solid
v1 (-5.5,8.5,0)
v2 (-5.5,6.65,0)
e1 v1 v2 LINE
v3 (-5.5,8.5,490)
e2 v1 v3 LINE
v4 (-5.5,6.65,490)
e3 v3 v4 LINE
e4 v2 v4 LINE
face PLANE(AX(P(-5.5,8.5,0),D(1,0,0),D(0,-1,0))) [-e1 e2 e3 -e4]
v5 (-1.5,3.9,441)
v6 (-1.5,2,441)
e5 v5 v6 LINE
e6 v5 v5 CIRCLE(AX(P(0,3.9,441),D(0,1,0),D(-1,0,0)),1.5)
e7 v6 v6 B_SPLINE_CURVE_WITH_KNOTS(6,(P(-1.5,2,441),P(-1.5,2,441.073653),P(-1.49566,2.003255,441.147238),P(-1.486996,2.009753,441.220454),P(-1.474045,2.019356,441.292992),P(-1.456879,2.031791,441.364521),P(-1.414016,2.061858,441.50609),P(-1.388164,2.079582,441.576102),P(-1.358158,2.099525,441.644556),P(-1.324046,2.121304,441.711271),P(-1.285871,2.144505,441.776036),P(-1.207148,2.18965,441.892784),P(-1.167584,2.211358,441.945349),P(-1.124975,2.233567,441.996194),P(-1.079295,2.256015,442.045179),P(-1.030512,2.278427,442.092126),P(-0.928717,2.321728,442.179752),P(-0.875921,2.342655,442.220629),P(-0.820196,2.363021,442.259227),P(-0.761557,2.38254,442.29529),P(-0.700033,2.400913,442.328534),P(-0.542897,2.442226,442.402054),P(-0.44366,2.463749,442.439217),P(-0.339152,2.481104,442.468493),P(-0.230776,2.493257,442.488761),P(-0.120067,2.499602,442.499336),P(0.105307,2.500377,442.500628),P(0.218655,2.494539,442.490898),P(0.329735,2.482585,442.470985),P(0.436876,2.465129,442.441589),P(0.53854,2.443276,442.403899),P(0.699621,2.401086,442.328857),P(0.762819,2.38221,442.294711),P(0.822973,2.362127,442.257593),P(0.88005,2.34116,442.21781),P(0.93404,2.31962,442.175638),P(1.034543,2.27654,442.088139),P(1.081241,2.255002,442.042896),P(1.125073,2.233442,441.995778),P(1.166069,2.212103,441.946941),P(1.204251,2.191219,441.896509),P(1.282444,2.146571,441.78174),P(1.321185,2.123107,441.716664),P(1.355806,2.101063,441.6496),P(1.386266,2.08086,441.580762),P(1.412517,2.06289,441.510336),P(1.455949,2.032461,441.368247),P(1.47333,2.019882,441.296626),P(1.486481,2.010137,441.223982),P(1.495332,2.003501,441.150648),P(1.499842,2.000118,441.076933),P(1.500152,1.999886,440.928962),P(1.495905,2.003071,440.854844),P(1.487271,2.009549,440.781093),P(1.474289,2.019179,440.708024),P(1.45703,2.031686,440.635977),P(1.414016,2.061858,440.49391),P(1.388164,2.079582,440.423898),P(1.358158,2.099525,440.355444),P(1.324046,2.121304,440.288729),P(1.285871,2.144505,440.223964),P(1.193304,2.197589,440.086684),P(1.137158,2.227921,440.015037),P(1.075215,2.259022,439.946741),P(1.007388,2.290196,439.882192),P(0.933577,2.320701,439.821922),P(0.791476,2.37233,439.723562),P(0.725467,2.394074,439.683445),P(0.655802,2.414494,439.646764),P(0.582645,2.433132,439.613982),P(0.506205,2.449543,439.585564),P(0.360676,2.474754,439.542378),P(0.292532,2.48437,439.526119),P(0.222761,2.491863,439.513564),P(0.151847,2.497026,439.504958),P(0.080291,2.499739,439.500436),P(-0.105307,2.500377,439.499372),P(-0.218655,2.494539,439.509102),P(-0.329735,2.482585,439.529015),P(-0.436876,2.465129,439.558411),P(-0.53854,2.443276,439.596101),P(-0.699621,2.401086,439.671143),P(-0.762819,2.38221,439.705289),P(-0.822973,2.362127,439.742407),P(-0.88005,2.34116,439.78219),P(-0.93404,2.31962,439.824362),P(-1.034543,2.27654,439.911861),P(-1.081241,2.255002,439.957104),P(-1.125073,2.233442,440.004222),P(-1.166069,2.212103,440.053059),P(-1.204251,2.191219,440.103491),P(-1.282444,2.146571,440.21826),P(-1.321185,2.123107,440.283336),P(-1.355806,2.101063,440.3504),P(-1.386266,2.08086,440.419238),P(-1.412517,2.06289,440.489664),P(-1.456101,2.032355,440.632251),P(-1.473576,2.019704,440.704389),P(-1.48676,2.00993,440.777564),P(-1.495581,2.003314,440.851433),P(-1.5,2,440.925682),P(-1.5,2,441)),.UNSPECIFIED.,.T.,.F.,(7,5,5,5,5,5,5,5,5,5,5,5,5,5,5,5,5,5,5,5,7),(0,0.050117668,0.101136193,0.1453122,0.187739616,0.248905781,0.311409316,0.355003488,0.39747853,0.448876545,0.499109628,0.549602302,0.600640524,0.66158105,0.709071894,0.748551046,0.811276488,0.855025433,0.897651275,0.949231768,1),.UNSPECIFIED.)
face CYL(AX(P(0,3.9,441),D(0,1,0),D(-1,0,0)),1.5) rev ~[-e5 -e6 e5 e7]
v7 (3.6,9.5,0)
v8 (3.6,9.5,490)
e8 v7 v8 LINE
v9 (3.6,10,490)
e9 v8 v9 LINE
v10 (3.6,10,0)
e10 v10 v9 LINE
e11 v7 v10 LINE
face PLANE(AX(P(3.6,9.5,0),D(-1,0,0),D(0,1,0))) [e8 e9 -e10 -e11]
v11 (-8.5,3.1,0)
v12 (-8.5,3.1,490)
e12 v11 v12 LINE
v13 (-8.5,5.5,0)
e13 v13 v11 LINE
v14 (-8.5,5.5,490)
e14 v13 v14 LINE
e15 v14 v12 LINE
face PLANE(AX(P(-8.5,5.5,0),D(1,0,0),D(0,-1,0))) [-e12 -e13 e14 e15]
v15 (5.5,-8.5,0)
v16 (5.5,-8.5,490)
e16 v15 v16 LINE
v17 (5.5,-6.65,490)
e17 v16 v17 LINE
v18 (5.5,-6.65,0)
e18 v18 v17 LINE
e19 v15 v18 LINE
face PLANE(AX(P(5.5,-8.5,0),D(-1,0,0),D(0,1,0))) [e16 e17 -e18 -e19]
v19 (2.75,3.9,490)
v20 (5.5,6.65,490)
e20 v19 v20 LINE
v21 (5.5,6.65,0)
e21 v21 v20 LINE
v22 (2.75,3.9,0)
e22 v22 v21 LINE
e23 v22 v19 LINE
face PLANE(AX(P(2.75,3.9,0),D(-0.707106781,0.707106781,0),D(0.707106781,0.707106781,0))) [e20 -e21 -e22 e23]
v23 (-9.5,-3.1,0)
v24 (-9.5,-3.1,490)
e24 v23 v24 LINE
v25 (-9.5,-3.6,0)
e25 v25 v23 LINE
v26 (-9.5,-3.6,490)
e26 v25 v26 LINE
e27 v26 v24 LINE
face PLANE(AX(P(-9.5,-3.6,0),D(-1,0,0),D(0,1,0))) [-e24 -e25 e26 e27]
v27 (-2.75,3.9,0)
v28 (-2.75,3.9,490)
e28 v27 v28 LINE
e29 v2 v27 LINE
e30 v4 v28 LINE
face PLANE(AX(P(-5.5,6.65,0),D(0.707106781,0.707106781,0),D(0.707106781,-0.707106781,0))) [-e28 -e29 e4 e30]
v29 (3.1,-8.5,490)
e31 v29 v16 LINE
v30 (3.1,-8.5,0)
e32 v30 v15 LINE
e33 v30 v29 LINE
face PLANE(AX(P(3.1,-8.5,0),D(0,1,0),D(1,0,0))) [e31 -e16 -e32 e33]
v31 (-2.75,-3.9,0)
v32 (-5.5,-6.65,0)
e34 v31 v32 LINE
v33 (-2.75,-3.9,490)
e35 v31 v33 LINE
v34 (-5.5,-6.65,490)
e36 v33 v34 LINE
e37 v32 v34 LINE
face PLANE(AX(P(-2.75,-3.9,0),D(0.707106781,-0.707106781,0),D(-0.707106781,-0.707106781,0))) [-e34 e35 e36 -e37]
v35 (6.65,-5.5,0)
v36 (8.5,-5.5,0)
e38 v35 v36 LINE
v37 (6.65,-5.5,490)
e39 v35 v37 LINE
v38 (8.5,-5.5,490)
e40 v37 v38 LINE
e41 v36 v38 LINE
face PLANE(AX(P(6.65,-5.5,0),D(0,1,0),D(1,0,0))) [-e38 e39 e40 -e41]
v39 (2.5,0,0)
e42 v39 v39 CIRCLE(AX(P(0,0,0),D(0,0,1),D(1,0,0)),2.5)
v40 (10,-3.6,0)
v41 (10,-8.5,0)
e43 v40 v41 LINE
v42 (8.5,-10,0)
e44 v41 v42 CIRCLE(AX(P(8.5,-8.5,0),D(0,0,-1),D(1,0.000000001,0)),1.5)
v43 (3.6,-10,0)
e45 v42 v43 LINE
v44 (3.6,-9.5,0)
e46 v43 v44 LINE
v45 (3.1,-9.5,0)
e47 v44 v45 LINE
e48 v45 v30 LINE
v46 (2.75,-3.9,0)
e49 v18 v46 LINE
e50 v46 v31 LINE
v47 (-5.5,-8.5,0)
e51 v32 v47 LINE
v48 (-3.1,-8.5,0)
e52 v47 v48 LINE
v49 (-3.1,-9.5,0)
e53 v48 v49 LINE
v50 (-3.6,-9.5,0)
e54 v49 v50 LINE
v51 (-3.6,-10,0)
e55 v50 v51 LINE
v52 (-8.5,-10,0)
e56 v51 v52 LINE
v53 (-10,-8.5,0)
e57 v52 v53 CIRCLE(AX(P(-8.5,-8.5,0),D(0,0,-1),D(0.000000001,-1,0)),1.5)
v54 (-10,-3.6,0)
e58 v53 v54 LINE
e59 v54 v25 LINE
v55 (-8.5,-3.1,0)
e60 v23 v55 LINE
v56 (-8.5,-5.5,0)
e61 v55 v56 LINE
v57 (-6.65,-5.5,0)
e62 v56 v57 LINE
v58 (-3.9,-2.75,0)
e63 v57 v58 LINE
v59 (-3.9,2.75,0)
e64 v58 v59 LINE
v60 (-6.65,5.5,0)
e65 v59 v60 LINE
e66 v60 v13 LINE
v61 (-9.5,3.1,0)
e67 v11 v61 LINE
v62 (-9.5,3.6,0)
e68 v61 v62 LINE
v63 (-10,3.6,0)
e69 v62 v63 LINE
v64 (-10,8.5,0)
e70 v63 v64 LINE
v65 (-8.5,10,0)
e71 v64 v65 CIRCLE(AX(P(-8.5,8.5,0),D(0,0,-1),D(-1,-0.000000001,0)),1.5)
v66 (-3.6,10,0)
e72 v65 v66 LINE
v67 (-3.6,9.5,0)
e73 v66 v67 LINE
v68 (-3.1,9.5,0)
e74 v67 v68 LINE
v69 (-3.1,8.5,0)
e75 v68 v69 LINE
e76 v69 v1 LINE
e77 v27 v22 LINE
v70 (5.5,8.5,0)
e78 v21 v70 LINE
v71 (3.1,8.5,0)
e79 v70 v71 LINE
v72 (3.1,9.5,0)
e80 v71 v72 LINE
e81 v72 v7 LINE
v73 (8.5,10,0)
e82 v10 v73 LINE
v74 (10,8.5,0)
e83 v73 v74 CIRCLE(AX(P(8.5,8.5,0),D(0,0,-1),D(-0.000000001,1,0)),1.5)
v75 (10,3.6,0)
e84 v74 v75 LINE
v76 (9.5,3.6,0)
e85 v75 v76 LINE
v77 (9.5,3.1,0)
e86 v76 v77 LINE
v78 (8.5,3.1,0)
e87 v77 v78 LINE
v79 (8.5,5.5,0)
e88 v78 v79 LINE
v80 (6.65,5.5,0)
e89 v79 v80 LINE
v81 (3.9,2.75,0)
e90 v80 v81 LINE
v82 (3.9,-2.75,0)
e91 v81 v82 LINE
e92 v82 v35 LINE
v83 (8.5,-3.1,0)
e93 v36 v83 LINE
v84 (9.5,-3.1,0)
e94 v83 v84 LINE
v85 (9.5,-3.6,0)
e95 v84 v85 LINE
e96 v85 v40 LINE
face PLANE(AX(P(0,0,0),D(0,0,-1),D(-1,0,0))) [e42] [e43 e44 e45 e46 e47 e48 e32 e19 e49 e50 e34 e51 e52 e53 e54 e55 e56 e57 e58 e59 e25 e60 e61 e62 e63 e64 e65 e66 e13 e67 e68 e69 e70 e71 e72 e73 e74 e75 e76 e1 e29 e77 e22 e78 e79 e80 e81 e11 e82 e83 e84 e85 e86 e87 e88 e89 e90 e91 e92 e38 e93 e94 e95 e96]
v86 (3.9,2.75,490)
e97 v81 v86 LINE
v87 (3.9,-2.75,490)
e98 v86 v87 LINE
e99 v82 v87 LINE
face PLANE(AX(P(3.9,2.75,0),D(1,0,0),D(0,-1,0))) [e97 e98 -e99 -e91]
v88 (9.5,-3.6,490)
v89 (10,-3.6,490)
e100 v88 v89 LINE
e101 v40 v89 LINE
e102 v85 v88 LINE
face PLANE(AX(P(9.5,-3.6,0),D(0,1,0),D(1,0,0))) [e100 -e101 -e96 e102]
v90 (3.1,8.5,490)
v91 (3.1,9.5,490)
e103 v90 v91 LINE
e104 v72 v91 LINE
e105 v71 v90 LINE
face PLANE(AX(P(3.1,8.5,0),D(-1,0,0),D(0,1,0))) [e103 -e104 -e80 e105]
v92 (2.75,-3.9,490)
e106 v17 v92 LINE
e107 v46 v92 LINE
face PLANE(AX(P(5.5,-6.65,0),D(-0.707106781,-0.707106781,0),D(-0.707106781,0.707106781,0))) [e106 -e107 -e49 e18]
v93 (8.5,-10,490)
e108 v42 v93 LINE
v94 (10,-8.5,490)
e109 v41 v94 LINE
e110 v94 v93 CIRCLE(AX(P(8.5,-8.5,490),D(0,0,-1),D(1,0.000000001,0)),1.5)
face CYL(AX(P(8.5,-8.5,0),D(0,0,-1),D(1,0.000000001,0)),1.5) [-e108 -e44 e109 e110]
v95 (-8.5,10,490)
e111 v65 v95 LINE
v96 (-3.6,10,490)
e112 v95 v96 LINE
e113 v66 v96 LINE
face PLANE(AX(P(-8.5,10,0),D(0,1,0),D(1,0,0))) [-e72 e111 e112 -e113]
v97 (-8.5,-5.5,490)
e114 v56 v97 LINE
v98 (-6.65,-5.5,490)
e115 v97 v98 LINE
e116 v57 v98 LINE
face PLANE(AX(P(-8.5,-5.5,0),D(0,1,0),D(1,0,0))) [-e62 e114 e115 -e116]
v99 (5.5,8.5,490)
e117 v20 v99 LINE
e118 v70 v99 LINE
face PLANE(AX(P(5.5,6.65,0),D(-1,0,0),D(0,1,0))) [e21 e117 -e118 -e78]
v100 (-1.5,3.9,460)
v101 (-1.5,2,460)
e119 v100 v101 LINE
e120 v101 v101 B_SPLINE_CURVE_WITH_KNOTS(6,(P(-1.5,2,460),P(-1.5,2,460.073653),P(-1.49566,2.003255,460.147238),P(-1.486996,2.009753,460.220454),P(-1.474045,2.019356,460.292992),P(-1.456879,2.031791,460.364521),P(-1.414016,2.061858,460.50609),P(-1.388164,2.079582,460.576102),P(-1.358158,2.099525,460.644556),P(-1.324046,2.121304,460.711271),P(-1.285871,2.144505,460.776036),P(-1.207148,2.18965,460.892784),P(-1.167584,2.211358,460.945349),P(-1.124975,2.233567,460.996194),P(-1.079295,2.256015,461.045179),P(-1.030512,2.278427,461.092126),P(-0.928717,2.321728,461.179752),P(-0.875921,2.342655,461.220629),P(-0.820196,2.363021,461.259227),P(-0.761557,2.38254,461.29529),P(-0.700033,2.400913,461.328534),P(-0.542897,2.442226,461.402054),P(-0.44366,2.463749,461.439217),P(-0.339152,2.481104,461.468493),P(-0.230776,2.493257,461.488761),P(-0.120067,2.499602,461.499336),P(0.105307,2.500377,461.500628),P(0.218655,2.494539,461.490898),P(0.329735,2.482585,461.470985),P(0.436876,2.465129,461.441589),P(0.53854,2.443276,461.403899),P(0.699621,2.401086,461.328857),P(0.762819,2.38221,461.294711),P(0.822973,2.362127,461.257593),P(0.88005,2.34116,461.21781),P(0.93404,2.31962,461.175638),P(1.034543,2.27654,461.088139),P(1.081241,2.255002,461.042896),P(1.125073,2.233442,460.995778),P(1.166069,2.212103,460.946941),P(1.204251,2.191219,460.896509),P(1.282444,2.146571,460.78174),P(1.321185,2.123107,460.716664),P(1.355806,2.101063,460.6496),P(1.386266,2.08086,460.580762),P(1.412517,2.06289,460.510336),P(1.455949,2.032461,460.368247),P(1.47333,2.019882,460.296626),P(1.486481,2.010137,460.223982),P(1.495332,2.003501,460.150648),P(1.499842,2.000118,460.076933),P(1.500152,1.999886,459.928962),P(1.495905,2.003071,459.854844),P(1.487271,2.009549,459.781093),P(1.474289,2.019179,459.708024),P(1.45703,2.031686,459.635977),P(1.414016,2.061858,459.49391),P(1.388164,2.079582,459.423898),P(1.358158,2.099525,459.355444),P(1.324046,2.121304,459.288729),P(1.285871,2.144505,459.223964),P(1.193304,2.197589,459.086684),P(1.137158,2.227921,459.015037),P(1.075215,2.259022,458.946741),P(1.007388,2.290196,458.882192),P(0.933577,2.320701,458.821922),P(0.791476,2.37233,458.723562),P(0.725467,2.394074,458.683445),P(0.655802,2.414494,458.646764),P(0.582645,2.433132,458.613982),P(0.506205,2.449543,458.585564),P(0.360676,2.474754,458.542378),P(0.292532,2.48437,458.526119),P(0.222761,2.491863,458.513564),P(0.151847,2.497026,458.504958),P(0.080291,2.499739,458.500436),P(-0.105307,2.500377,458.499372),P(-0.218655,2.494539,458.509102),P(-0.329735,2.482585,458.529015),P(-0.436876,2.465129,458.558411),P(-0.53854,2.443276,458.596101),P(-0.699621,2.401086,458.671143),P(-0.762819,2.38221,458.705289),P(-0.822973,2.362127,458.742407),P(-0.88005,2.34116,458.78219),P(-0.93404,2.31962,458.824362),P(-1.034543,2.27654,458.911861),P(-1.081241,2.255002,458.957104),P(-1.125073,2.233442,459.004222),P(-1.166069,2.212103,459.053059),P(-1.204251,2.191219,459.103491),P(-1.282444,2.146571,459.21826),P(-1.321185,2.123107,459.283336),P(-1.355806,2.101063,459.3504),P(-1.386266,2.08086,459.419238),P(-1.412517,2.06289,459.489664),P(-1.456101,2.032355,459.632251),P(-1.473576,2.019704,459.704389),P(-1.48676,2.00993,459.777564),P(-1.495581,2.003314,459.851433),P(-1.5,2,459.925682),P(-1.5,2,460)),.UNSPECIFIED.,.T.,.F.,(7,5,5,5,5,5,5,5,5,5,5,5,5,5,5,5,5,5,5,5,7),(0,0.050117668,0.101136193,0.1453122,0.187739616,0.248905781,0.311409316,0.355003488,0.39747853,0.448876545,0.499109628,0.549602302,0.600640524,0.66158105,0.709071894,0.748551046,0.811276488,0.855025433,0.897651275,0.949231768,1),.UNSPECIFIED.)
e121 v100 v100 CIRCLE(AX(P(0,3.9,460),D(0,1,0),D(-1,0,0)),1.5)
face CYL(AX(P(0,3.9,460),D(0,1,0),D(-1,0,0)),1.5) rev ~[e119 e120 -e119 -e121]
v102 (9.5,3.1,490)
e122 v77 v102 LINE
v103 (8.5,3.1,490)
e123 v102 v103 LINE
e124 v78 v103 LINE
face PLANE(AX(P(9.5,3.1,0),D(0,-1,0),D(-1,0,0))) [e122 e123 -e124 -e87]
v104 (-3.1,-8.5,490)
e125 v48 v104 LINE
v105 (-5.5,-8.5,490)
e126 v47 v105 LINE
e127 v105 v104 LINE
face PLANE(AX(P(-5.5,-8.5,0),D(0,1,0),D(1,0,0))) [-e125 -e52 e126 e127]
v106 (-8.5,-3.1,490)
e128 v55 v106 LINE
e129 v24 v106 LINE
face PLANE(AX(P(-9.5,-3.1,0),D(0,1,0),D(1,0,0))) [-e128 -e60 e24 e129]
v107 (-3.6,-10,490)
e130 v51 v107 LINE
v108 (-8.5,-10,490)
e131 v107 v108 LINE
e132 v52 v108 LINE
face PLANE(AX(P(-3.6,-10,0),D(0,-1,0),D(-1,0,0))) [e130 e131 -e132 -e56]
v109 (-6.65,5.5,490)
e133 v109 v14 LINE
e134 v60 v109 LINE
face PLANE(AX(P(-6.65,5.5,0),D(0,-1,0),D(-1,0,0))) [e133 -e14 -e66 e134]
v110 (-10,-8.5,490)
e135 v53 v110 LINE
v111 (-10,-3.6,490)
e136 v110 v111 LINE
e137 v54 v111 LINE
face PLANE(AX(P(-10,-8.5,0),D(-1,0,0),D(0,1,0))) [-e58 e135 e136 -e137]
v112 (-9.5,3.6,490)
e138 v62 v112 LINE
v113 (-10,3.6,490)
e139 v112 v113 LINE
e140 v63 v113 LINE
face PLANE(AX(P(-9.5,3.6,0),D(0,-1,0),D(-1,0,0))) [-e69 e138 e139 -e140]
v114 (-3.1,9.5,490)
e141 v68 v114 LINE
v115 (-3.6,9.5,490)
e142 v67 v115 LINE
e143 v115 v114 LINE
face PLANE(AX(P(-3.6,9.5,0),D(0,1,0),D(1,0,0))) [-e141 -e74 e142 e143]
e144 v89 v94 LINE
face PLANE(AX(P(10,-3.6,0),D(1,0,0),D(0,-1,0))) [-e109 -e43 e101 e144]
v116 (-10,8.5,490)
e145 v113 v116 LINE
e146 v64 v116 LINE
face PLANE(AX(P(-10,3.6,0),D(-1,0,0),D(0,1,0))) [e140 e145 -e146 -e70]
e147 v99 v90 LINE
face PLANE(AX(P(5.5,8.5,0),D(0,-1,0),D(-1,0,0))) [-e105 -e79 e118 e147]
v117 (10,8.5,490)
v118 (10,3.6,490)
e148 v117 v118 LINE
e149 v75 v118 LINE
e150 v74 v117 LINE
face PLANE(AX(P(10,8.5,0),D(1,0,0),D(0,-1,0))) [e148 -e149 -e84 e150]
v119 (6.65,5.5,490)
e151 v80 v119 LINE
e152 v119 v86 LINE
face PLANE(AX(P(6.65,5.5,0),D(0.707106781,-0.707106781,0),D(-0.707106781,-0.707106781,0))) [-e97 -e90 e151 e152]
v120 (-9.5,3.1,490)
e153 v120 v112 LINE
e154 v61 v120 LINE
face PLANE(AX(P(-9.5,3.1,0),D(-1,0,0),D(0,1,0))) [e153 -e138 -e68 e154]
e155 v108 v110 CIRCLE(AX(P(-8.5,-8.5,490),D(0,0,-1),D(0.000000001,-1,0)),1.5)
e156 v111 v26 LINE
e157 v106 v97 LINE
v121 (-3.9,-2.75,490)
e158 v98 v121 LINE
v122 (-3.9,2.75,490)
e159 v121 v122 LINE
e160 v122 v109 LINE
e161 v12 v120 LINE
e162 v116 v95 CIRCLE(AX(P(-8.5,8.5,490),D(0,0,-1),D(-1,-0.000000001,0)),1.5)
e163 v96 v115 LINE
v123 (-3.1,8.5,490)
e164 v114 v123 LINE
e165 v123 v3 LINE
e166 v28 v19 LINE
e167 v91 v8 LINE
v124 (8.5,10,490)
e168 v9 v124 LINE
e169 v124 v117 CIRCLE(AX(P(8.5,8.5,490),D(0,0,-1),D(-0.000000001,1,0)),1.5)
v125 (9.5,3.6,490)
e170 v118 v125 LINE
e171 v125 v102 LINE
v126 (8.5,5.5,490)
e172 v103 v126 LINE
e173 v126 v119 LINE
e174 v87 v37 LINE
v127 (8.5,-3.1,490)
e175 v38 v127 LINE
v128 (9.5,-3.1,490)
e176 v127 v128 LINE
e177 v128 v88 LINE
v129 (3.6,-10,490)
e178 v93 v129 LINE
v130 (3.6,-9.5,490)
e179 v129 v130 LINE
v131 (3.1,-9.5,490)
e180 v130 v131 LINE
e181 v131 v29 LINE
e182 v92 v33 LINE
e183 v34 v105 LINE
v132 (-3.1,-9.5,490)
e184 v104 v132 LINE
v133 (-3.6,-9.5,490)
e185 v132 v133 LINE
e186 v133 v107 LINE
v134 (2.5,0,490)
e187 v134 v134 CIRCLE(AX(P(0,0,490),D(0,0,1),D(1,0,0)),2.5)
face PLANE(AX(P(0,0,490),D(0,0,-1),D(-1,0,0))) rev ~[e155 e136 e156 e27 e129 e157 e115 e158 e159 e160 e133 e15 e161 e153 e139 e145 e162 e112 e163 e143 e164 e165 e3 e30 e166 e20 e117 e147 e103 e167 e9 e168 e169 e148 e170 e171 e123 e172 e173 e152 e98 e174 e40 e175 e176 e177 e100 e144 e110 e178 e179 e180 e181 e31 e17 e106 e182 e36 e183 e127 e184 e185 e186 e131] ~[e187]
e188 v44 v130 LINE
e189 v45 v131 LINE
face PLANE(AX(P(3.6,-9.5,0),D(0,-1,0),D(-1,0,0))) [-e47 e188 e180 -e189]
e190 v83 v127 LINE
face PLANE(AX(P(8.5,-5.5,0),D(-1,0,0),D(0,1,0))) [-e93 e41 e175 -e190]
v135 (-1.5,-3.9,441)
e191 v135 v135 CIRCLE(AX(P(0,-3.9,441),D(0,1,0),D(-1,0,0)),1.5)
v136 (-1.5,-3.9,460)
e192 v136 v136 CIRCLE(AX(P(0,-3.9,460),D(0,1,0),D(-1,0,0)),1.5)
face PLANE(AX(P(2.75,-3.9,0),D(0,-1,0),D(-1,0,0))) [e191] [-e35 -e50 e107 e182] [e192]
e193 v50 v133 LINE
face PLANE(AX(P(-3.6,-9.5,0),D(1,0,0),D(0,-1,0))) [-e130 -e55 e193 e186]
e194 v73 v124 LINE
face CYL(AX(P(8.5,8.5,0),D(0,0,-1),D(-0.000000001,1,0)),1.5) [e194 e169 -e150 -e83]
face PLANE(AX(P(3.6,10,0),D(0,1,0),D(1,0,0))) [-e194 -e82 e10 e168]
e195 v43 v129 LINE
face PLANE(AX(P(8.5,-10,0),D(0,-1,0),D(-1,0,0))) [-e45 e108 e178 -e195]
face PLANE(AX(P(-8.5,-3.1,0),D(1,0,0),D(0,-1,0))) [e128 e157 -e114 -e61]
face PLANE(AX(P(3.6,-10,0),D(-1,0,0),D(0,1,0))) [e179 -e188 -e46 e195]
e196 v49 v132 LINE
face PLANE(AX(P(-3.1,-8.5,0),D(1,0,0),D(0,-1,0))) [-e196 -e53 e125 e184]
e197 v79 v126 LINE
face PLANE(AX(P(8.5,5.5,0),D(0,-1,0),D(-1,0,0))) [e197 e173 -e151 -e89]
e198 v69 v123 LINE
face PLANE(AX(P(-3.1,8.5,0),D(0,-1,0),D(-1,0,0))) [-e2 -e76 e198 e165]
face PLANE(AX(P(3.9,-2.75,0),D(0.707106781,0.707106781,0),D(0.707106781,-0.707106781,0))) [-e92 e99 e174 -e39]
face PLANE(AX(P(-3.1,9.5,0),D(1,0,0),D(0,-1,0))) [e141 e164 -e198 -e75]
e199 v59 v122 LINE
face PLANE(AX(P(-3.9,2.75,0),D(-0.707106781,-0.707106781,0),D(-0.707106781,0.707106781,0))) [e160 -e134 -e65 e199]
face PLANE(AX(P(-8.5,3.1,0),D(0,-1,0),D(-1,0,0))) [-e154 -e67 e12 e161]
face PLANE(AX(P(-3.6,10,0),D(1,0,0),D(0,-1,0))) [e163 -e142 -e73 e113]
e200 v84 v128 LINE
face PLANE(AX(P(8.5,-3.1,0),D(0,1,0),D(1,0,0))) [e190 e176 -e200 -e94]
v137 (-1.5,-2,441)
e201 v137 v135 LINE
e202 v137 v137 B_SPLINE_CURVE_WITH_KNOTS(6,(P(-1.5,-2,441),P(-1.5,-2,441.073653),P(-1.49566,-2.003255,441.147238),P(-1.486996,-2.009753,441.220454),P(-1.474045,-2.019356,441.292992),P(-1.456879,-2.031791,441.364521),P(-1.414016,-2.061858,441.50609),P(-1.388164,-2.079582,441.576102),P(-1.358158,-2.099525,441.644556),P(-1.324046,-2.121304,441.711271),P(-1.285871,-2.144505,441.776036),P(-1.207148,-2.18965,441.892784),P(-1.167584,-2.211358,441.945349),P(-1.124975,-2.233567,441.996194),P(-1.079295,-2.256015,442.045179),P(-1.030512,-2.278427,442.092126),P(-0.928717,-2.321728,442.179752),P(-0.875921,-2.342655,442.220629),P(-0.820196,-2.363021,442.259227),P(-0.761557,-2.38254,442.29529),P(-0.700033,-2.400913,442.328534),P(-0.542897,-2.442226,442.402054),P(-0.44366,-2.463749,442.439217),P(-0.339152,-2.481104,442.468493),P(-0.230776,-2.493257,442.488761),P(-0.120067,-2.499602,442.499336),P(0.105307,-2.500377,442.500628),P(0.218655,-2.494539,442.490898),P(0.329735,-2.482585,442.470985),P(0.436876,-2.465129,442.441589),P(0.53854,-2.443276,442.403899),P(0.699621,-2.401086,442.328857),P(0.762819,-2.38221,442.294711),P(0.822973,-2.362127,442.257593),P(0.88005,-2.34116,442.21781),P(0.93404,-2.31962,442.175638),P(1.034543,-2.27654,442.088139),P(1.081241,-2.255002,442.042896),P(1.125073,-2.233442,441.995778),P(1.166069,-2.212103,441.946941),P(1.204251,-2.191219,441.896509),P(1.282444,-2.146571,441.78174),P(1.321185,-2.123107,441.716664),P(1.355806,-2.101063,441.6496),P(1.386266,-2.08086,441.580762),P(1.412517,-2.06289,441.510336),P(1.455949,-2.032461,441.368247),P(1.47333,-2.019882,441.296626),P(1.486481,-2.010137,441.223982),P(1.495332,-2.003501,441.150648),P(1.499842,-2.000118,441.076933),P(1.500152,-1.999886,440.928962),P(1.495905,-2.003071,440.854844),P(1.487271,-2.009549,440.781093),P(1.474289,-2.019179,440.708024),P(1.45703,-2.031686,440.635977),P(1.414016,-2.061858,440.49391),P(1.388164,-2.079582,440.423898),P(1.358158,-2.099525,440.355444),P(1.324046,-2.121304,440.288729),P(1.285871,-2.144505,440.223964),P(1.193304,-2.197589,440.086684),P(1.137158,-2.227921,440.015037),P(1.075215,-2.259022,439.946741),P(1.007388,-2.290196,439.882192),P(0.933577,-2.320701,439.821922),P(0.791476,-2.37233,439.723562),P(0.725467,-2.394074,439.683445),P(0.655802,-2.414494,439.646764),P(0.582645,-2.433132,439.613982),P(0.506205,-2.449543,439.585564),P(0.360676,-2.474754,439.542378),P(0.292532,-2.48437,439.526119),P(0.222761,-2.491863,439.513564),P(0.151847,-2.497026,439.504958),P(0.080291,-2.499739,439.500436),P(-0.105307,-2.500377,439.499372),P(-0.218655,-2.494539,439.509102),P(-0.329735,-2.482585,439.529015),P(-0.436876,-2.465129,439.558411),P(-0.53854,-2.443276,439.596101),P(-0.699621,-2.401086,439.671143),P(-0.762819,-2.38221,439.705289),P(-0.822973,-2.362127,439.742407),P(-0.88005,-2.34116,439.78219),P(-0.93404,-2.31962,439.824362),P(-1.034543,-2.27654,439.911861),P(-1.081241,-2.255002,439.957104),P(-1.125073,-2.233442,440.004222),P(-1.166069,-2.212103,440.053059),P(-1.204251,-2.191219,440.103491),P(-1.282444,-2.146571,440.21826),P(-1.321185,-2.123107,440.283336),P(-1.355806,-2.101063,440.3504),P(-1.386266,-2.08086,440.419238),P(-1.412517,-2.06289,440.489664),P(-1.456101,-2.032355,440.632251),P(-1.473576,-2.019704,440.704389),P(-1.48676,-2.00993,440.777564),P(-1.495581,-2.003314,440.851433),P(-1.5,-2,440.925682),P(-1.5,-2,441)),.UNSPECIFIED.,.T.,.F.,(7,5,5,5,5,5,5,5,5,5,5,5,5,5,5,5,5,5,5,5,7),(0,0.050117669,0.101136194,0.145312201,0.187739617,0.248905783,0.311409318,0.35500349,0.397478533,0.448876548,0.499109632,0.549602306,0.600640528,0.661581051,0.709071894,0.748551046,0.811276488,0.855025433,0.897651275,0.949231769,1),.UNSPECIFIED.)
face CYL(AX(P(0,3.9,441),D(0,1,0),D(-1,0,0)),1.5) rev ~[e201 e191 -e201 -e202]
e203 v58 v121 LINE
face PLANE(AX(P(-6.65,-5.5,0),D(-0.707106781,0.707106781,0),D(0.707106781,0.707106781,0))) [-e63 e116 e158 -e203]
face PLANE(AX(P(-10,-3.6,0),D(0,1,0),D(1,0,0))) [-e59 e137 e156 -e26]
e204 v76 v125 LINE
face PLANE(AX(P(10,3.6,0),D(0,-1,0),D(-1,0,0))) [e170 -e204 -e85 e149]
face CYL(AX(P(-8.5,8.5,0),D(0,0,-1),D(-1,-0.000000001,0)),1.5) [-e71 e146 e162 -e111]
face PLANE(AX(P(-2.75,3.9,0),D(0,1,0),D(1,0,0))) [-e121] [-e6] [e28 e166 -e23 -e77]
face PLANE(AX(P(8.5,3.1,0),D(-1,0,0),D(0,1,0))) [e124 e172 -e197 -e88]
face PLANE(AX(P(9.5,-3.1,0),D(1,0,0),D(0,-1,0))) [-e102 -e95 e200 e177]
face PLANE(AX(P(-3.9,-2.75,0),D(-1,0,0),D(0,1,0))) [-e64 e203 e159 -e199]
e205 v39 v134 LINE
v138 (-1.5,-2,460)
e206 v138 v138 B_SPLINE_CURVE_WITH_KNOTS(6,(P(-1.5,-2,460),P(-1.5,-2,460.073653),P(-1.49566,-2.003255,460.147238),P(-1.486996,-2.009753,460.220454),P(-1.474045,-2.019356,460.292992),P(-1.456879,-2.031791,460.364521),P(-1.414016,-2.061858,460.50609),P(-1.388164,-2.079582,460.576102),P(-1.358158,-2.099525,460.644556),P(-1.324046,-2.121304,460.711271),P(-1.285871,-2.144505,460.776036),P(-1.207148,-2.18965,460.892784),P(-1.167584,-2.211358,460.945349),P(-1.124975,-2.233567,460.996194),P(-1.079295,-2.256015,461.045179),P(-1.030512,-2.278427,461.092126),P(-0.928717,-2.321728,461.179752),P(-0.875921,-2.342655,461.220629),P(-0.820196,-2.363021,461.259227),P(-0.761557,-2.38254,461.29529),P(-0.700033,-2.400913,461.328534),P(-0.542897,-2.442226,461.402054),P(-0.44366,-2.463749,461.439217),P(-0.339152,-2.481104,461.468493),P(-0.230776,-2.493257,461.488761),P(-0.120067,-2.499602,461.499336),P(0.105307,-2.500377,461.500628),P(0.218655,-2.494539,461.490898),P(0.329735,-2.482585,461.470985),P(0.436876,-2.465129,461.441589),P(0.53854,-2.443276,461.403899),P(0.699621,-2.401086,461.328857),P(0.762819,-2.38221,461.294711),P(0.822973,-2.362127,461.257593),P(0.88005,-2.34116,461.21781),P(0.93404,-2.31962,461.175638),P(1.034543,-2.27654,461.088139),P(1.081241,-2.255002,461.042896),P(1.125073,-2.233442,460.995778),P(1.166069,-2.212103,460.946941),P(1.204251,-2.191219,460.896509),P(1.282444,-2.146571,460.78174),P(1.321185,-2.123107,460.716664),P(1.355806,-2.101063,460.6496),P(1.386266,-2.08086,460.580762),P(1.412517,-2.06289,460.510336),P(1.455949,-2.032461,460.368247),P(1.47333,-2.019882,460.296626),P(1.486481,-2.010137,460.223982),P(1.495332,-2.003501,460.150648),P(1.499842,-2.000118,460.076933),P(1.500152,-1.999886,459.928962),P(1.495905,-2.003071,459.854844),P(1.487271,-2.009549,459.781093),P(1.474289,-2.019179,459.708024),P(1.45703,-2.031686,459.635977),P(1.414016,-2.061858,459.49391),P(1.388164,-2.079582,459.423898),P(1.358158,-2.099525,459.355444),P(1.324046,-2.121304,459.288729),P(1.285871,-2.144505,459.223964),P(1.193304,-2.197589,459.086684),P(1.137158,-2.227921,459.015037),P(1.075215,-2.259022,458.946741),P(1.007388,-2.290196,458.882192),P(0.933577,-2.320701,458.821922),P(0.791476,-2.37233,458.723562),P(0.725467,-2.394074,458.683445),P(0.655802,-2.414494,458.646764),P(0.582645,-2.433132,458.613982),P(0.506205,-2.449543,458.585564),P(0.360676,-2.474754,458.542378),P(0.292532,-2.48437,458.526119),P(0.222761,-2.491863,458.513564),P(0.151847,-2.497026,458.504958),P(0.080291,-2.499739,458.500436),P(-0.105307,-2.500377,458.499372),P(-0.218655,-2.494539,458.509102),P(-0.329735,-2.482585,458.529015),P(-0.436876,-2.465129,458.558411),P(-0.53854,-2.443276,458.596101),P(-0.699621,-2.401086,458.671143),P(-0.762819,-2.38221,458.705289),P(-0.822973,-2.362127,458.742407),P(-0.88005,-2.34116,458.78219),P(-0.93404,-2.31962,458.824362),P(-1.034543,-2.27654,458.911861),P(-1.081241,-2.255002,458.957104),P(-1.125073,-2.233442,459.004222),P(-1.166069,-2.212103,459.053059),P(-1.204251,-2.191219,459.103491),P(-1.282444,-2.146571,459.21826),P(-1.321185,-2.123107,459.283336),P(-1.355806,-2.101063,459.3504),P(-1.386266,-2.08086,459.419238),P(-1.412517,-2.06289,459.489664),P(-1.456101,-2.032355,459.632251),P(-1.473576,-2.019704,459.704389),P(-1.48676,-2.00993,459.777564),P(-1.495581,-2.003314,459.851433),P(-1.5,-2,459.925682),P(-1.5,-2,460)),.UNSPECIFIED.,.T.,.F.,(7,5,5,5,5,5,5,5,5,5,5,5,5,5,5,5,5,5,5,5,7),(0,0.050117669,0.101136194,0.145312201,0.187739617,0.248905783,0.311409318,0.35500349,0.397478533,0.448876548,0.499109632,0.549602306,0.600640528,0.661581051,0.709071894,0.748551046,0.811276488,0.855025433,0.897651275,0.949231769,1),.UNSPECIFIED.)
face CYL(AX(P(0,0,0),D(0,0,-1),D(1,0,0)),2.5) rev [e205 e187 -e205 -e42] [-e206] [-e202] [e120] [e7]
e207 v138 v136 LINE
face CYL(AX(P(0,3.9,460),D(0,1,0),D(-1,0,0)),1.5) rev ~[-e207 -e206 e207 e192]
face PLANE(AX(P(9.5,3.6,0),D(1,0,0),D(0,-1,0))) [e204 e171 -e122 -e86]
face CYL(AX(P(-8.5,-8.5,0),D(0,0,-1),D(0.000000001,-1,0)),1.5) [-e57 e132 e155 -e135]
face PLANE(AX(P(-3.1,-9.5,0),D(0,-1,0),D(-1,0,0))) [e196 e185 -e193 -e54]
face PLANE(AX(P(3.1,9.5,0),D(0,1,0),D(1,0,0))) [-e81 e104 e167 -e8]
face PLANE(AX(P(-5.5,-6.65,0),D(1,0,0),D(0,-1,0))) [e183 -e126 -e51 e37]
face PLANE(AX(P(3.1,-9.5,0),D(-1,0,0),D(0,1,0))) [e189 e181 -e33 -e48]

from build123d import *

# Parameters (mm, degrees)
SKETCH1_R           = 2.5
EXTRUDE_1_DEPTH     = 490
SKETCH_1_R          = 1.5
CUT_EXTRUDE_2_DEPTH = 491.299102589


with BuildPart() as part:
    # Sketch1 → 凸台-拉伸1 (new body)
    with BuildSketch(Plane.XY):
        with BuildLine():
            Line((-3.6, 10), (-3.6, 9.5))
            Line((-3.6, 9.5), (-3.1, 9.5))
            Line((-3.1, 9.5), (-3.1, 8.5))
            Line((-3.1, 8.5), (-5.5, 8.5))
            Line((-5.5, 8.5), (-5.5, 6.65))
            Line((-5.5, 6.65), (-2.75, 3.9))
            Line((-2.75, 3.9), (2.75, 3.9))
            Line((2.75, 3.9), (5.5, 6.65))
            Line((5.5, 6.65), (5.5, 8.5))
            Line((5.5, 8.5), (3.1, 8.5))
            Line((3.1, 8.5), (3.1, 9.5))
            Line((3.1, 9.5), (3.6, 9.5))
            Line((3.6, 9.5), (3.6, 10))
            Line((3.6, 10), (8.5, 10))
            ThreePointArc((8.5, 10), (9.560660172, 9.560660172), (10, 8.5))
            Line((10, 8.5), (10, 3.6))
            Line((10, 3.6), (9.5, 3.6))
            Line((9.5, 3.6), (9.5, 3.1))
            Line((9.5, 3.1), (8.5, 3.1))
            Line((8.5, 3.1), (8.5, 5.5))
            Line((8.5, 5.5), (6.65, 5.5))
            Line((6.65, 5.5), (3.9, 2.75))
            Line((3.9, 2.75), (3.9, -2.75))
            Line((3.9, -2.75), (6.65, -5.5))
            Line((6.65, -5.5), (8.5, -5.5))
            Line((8.5, -5.5), (8.5, -3.1))
            Line((8.5, -3.1), (9.5, -3.1))
            Line((9.5, -3.1), (9.5, -3.6))
            Line((9.5, -3.6), (10, -3.6))
            Line((10, -3.6), (10, -8.5))
            ThreePointArc((10, -8.5), (9.560660172, -9.560660172), (8.5, -10))
            Line((8.5, -10), (3.6, -10))
            Line((3.6, -10), (3.6, -9.5))
            Line((3.6, -9.5), (3.1, -9.5))
            Line((3.1, -9.5), (3.1, -8.5))
            Line((3.1, -8.5), (5.5, -8.5))
            Line((5.5, -8.5), (5.5, -6.65))
            Line((5.5, -6.65), (2.75, -3.9))
            Line((2.75, -3.9), (-2.75, -3.9))
            Line((-2.75, -3.9), (-5.5, -6.65))
            Line((-5.5, -6.65), (-5.5, -8.5))
            Line((-5.5, -8.5), (-3.1, -8.5))
            Line((-3.1, -8.5), (-3.1, -9.5))
            Line((-3.1, -9.5), (-3.6, -9.5))
            Line((-3.6, -9.5), (-3.6, -10))
            Line((-3.6, -10), (-8.5, -10))
            ThreePointArc((-8.5, -10), (-9.560660172, -9.560660172), (-10, -8.5))
            Line((-10, -8.5), (-10, -3.6))
            Line((-10, -3.6), (-9.5, -3.6))
            Line((-9.5, -3.6), (-9.5, -3.1))
            Line((-9.5, -3.1), (-8.5, -3.1))
            Line((-8.5, -3.1), (-8.5, -5.5))
            Line((-8.5, -5.5), (-6.65, -5.5))
            Line((-6.65, -5.5), (-3.9, -2.75))
            Line((-3.9, -2.75), (-3.9, 2.75))
            Line((-3.9, 2.75), (-6.65, 5.5))
            Line((-6.65, 5.5), (-8.5, 5.5))
            Line((-8.5, 5.5), (-8.5, 3.1))
            Line((-8.5, 3.1), (-9.5, 3.1))
            Line((-9.5, 3.1), (-9.5, 3.6))
            Line((-9.5, 3.6), (-10, 3.6))
            Line((-10, 3.6), (-10, 8.5))
            ThreePointArc((-10, 8.5), (-9.560660172, 9.560660172), (-8.5, 10))
            Line((-8.5, 10), (-3.6, 10))
        make_face()
        Circle(SKETCH1_R, mode=Mode.SUBTRACT)
    extrude(amount=EXTRUDE_1_DEPTH)

    # 草图1 → 切除-拉伸2 (cut, through all)
    with BuildSketch(Plane(origin=(0, 3.9, 0), x_dir=(1, 0, 0), z_dir=(0, 1, 0))):
        with Locations(Location((0, -460, 0), (0, 0, 180))):
            Circle(SKETCH_1_R)
        with Locations(Location((0, -441, 0), (0, 0, 180))):
            Circle(SKETCH_1_R)
    extrude(amount=-CUT_EXTRUDE_2_DEPTH, mode=Mode.SUBTRACT)


solid = part.part
